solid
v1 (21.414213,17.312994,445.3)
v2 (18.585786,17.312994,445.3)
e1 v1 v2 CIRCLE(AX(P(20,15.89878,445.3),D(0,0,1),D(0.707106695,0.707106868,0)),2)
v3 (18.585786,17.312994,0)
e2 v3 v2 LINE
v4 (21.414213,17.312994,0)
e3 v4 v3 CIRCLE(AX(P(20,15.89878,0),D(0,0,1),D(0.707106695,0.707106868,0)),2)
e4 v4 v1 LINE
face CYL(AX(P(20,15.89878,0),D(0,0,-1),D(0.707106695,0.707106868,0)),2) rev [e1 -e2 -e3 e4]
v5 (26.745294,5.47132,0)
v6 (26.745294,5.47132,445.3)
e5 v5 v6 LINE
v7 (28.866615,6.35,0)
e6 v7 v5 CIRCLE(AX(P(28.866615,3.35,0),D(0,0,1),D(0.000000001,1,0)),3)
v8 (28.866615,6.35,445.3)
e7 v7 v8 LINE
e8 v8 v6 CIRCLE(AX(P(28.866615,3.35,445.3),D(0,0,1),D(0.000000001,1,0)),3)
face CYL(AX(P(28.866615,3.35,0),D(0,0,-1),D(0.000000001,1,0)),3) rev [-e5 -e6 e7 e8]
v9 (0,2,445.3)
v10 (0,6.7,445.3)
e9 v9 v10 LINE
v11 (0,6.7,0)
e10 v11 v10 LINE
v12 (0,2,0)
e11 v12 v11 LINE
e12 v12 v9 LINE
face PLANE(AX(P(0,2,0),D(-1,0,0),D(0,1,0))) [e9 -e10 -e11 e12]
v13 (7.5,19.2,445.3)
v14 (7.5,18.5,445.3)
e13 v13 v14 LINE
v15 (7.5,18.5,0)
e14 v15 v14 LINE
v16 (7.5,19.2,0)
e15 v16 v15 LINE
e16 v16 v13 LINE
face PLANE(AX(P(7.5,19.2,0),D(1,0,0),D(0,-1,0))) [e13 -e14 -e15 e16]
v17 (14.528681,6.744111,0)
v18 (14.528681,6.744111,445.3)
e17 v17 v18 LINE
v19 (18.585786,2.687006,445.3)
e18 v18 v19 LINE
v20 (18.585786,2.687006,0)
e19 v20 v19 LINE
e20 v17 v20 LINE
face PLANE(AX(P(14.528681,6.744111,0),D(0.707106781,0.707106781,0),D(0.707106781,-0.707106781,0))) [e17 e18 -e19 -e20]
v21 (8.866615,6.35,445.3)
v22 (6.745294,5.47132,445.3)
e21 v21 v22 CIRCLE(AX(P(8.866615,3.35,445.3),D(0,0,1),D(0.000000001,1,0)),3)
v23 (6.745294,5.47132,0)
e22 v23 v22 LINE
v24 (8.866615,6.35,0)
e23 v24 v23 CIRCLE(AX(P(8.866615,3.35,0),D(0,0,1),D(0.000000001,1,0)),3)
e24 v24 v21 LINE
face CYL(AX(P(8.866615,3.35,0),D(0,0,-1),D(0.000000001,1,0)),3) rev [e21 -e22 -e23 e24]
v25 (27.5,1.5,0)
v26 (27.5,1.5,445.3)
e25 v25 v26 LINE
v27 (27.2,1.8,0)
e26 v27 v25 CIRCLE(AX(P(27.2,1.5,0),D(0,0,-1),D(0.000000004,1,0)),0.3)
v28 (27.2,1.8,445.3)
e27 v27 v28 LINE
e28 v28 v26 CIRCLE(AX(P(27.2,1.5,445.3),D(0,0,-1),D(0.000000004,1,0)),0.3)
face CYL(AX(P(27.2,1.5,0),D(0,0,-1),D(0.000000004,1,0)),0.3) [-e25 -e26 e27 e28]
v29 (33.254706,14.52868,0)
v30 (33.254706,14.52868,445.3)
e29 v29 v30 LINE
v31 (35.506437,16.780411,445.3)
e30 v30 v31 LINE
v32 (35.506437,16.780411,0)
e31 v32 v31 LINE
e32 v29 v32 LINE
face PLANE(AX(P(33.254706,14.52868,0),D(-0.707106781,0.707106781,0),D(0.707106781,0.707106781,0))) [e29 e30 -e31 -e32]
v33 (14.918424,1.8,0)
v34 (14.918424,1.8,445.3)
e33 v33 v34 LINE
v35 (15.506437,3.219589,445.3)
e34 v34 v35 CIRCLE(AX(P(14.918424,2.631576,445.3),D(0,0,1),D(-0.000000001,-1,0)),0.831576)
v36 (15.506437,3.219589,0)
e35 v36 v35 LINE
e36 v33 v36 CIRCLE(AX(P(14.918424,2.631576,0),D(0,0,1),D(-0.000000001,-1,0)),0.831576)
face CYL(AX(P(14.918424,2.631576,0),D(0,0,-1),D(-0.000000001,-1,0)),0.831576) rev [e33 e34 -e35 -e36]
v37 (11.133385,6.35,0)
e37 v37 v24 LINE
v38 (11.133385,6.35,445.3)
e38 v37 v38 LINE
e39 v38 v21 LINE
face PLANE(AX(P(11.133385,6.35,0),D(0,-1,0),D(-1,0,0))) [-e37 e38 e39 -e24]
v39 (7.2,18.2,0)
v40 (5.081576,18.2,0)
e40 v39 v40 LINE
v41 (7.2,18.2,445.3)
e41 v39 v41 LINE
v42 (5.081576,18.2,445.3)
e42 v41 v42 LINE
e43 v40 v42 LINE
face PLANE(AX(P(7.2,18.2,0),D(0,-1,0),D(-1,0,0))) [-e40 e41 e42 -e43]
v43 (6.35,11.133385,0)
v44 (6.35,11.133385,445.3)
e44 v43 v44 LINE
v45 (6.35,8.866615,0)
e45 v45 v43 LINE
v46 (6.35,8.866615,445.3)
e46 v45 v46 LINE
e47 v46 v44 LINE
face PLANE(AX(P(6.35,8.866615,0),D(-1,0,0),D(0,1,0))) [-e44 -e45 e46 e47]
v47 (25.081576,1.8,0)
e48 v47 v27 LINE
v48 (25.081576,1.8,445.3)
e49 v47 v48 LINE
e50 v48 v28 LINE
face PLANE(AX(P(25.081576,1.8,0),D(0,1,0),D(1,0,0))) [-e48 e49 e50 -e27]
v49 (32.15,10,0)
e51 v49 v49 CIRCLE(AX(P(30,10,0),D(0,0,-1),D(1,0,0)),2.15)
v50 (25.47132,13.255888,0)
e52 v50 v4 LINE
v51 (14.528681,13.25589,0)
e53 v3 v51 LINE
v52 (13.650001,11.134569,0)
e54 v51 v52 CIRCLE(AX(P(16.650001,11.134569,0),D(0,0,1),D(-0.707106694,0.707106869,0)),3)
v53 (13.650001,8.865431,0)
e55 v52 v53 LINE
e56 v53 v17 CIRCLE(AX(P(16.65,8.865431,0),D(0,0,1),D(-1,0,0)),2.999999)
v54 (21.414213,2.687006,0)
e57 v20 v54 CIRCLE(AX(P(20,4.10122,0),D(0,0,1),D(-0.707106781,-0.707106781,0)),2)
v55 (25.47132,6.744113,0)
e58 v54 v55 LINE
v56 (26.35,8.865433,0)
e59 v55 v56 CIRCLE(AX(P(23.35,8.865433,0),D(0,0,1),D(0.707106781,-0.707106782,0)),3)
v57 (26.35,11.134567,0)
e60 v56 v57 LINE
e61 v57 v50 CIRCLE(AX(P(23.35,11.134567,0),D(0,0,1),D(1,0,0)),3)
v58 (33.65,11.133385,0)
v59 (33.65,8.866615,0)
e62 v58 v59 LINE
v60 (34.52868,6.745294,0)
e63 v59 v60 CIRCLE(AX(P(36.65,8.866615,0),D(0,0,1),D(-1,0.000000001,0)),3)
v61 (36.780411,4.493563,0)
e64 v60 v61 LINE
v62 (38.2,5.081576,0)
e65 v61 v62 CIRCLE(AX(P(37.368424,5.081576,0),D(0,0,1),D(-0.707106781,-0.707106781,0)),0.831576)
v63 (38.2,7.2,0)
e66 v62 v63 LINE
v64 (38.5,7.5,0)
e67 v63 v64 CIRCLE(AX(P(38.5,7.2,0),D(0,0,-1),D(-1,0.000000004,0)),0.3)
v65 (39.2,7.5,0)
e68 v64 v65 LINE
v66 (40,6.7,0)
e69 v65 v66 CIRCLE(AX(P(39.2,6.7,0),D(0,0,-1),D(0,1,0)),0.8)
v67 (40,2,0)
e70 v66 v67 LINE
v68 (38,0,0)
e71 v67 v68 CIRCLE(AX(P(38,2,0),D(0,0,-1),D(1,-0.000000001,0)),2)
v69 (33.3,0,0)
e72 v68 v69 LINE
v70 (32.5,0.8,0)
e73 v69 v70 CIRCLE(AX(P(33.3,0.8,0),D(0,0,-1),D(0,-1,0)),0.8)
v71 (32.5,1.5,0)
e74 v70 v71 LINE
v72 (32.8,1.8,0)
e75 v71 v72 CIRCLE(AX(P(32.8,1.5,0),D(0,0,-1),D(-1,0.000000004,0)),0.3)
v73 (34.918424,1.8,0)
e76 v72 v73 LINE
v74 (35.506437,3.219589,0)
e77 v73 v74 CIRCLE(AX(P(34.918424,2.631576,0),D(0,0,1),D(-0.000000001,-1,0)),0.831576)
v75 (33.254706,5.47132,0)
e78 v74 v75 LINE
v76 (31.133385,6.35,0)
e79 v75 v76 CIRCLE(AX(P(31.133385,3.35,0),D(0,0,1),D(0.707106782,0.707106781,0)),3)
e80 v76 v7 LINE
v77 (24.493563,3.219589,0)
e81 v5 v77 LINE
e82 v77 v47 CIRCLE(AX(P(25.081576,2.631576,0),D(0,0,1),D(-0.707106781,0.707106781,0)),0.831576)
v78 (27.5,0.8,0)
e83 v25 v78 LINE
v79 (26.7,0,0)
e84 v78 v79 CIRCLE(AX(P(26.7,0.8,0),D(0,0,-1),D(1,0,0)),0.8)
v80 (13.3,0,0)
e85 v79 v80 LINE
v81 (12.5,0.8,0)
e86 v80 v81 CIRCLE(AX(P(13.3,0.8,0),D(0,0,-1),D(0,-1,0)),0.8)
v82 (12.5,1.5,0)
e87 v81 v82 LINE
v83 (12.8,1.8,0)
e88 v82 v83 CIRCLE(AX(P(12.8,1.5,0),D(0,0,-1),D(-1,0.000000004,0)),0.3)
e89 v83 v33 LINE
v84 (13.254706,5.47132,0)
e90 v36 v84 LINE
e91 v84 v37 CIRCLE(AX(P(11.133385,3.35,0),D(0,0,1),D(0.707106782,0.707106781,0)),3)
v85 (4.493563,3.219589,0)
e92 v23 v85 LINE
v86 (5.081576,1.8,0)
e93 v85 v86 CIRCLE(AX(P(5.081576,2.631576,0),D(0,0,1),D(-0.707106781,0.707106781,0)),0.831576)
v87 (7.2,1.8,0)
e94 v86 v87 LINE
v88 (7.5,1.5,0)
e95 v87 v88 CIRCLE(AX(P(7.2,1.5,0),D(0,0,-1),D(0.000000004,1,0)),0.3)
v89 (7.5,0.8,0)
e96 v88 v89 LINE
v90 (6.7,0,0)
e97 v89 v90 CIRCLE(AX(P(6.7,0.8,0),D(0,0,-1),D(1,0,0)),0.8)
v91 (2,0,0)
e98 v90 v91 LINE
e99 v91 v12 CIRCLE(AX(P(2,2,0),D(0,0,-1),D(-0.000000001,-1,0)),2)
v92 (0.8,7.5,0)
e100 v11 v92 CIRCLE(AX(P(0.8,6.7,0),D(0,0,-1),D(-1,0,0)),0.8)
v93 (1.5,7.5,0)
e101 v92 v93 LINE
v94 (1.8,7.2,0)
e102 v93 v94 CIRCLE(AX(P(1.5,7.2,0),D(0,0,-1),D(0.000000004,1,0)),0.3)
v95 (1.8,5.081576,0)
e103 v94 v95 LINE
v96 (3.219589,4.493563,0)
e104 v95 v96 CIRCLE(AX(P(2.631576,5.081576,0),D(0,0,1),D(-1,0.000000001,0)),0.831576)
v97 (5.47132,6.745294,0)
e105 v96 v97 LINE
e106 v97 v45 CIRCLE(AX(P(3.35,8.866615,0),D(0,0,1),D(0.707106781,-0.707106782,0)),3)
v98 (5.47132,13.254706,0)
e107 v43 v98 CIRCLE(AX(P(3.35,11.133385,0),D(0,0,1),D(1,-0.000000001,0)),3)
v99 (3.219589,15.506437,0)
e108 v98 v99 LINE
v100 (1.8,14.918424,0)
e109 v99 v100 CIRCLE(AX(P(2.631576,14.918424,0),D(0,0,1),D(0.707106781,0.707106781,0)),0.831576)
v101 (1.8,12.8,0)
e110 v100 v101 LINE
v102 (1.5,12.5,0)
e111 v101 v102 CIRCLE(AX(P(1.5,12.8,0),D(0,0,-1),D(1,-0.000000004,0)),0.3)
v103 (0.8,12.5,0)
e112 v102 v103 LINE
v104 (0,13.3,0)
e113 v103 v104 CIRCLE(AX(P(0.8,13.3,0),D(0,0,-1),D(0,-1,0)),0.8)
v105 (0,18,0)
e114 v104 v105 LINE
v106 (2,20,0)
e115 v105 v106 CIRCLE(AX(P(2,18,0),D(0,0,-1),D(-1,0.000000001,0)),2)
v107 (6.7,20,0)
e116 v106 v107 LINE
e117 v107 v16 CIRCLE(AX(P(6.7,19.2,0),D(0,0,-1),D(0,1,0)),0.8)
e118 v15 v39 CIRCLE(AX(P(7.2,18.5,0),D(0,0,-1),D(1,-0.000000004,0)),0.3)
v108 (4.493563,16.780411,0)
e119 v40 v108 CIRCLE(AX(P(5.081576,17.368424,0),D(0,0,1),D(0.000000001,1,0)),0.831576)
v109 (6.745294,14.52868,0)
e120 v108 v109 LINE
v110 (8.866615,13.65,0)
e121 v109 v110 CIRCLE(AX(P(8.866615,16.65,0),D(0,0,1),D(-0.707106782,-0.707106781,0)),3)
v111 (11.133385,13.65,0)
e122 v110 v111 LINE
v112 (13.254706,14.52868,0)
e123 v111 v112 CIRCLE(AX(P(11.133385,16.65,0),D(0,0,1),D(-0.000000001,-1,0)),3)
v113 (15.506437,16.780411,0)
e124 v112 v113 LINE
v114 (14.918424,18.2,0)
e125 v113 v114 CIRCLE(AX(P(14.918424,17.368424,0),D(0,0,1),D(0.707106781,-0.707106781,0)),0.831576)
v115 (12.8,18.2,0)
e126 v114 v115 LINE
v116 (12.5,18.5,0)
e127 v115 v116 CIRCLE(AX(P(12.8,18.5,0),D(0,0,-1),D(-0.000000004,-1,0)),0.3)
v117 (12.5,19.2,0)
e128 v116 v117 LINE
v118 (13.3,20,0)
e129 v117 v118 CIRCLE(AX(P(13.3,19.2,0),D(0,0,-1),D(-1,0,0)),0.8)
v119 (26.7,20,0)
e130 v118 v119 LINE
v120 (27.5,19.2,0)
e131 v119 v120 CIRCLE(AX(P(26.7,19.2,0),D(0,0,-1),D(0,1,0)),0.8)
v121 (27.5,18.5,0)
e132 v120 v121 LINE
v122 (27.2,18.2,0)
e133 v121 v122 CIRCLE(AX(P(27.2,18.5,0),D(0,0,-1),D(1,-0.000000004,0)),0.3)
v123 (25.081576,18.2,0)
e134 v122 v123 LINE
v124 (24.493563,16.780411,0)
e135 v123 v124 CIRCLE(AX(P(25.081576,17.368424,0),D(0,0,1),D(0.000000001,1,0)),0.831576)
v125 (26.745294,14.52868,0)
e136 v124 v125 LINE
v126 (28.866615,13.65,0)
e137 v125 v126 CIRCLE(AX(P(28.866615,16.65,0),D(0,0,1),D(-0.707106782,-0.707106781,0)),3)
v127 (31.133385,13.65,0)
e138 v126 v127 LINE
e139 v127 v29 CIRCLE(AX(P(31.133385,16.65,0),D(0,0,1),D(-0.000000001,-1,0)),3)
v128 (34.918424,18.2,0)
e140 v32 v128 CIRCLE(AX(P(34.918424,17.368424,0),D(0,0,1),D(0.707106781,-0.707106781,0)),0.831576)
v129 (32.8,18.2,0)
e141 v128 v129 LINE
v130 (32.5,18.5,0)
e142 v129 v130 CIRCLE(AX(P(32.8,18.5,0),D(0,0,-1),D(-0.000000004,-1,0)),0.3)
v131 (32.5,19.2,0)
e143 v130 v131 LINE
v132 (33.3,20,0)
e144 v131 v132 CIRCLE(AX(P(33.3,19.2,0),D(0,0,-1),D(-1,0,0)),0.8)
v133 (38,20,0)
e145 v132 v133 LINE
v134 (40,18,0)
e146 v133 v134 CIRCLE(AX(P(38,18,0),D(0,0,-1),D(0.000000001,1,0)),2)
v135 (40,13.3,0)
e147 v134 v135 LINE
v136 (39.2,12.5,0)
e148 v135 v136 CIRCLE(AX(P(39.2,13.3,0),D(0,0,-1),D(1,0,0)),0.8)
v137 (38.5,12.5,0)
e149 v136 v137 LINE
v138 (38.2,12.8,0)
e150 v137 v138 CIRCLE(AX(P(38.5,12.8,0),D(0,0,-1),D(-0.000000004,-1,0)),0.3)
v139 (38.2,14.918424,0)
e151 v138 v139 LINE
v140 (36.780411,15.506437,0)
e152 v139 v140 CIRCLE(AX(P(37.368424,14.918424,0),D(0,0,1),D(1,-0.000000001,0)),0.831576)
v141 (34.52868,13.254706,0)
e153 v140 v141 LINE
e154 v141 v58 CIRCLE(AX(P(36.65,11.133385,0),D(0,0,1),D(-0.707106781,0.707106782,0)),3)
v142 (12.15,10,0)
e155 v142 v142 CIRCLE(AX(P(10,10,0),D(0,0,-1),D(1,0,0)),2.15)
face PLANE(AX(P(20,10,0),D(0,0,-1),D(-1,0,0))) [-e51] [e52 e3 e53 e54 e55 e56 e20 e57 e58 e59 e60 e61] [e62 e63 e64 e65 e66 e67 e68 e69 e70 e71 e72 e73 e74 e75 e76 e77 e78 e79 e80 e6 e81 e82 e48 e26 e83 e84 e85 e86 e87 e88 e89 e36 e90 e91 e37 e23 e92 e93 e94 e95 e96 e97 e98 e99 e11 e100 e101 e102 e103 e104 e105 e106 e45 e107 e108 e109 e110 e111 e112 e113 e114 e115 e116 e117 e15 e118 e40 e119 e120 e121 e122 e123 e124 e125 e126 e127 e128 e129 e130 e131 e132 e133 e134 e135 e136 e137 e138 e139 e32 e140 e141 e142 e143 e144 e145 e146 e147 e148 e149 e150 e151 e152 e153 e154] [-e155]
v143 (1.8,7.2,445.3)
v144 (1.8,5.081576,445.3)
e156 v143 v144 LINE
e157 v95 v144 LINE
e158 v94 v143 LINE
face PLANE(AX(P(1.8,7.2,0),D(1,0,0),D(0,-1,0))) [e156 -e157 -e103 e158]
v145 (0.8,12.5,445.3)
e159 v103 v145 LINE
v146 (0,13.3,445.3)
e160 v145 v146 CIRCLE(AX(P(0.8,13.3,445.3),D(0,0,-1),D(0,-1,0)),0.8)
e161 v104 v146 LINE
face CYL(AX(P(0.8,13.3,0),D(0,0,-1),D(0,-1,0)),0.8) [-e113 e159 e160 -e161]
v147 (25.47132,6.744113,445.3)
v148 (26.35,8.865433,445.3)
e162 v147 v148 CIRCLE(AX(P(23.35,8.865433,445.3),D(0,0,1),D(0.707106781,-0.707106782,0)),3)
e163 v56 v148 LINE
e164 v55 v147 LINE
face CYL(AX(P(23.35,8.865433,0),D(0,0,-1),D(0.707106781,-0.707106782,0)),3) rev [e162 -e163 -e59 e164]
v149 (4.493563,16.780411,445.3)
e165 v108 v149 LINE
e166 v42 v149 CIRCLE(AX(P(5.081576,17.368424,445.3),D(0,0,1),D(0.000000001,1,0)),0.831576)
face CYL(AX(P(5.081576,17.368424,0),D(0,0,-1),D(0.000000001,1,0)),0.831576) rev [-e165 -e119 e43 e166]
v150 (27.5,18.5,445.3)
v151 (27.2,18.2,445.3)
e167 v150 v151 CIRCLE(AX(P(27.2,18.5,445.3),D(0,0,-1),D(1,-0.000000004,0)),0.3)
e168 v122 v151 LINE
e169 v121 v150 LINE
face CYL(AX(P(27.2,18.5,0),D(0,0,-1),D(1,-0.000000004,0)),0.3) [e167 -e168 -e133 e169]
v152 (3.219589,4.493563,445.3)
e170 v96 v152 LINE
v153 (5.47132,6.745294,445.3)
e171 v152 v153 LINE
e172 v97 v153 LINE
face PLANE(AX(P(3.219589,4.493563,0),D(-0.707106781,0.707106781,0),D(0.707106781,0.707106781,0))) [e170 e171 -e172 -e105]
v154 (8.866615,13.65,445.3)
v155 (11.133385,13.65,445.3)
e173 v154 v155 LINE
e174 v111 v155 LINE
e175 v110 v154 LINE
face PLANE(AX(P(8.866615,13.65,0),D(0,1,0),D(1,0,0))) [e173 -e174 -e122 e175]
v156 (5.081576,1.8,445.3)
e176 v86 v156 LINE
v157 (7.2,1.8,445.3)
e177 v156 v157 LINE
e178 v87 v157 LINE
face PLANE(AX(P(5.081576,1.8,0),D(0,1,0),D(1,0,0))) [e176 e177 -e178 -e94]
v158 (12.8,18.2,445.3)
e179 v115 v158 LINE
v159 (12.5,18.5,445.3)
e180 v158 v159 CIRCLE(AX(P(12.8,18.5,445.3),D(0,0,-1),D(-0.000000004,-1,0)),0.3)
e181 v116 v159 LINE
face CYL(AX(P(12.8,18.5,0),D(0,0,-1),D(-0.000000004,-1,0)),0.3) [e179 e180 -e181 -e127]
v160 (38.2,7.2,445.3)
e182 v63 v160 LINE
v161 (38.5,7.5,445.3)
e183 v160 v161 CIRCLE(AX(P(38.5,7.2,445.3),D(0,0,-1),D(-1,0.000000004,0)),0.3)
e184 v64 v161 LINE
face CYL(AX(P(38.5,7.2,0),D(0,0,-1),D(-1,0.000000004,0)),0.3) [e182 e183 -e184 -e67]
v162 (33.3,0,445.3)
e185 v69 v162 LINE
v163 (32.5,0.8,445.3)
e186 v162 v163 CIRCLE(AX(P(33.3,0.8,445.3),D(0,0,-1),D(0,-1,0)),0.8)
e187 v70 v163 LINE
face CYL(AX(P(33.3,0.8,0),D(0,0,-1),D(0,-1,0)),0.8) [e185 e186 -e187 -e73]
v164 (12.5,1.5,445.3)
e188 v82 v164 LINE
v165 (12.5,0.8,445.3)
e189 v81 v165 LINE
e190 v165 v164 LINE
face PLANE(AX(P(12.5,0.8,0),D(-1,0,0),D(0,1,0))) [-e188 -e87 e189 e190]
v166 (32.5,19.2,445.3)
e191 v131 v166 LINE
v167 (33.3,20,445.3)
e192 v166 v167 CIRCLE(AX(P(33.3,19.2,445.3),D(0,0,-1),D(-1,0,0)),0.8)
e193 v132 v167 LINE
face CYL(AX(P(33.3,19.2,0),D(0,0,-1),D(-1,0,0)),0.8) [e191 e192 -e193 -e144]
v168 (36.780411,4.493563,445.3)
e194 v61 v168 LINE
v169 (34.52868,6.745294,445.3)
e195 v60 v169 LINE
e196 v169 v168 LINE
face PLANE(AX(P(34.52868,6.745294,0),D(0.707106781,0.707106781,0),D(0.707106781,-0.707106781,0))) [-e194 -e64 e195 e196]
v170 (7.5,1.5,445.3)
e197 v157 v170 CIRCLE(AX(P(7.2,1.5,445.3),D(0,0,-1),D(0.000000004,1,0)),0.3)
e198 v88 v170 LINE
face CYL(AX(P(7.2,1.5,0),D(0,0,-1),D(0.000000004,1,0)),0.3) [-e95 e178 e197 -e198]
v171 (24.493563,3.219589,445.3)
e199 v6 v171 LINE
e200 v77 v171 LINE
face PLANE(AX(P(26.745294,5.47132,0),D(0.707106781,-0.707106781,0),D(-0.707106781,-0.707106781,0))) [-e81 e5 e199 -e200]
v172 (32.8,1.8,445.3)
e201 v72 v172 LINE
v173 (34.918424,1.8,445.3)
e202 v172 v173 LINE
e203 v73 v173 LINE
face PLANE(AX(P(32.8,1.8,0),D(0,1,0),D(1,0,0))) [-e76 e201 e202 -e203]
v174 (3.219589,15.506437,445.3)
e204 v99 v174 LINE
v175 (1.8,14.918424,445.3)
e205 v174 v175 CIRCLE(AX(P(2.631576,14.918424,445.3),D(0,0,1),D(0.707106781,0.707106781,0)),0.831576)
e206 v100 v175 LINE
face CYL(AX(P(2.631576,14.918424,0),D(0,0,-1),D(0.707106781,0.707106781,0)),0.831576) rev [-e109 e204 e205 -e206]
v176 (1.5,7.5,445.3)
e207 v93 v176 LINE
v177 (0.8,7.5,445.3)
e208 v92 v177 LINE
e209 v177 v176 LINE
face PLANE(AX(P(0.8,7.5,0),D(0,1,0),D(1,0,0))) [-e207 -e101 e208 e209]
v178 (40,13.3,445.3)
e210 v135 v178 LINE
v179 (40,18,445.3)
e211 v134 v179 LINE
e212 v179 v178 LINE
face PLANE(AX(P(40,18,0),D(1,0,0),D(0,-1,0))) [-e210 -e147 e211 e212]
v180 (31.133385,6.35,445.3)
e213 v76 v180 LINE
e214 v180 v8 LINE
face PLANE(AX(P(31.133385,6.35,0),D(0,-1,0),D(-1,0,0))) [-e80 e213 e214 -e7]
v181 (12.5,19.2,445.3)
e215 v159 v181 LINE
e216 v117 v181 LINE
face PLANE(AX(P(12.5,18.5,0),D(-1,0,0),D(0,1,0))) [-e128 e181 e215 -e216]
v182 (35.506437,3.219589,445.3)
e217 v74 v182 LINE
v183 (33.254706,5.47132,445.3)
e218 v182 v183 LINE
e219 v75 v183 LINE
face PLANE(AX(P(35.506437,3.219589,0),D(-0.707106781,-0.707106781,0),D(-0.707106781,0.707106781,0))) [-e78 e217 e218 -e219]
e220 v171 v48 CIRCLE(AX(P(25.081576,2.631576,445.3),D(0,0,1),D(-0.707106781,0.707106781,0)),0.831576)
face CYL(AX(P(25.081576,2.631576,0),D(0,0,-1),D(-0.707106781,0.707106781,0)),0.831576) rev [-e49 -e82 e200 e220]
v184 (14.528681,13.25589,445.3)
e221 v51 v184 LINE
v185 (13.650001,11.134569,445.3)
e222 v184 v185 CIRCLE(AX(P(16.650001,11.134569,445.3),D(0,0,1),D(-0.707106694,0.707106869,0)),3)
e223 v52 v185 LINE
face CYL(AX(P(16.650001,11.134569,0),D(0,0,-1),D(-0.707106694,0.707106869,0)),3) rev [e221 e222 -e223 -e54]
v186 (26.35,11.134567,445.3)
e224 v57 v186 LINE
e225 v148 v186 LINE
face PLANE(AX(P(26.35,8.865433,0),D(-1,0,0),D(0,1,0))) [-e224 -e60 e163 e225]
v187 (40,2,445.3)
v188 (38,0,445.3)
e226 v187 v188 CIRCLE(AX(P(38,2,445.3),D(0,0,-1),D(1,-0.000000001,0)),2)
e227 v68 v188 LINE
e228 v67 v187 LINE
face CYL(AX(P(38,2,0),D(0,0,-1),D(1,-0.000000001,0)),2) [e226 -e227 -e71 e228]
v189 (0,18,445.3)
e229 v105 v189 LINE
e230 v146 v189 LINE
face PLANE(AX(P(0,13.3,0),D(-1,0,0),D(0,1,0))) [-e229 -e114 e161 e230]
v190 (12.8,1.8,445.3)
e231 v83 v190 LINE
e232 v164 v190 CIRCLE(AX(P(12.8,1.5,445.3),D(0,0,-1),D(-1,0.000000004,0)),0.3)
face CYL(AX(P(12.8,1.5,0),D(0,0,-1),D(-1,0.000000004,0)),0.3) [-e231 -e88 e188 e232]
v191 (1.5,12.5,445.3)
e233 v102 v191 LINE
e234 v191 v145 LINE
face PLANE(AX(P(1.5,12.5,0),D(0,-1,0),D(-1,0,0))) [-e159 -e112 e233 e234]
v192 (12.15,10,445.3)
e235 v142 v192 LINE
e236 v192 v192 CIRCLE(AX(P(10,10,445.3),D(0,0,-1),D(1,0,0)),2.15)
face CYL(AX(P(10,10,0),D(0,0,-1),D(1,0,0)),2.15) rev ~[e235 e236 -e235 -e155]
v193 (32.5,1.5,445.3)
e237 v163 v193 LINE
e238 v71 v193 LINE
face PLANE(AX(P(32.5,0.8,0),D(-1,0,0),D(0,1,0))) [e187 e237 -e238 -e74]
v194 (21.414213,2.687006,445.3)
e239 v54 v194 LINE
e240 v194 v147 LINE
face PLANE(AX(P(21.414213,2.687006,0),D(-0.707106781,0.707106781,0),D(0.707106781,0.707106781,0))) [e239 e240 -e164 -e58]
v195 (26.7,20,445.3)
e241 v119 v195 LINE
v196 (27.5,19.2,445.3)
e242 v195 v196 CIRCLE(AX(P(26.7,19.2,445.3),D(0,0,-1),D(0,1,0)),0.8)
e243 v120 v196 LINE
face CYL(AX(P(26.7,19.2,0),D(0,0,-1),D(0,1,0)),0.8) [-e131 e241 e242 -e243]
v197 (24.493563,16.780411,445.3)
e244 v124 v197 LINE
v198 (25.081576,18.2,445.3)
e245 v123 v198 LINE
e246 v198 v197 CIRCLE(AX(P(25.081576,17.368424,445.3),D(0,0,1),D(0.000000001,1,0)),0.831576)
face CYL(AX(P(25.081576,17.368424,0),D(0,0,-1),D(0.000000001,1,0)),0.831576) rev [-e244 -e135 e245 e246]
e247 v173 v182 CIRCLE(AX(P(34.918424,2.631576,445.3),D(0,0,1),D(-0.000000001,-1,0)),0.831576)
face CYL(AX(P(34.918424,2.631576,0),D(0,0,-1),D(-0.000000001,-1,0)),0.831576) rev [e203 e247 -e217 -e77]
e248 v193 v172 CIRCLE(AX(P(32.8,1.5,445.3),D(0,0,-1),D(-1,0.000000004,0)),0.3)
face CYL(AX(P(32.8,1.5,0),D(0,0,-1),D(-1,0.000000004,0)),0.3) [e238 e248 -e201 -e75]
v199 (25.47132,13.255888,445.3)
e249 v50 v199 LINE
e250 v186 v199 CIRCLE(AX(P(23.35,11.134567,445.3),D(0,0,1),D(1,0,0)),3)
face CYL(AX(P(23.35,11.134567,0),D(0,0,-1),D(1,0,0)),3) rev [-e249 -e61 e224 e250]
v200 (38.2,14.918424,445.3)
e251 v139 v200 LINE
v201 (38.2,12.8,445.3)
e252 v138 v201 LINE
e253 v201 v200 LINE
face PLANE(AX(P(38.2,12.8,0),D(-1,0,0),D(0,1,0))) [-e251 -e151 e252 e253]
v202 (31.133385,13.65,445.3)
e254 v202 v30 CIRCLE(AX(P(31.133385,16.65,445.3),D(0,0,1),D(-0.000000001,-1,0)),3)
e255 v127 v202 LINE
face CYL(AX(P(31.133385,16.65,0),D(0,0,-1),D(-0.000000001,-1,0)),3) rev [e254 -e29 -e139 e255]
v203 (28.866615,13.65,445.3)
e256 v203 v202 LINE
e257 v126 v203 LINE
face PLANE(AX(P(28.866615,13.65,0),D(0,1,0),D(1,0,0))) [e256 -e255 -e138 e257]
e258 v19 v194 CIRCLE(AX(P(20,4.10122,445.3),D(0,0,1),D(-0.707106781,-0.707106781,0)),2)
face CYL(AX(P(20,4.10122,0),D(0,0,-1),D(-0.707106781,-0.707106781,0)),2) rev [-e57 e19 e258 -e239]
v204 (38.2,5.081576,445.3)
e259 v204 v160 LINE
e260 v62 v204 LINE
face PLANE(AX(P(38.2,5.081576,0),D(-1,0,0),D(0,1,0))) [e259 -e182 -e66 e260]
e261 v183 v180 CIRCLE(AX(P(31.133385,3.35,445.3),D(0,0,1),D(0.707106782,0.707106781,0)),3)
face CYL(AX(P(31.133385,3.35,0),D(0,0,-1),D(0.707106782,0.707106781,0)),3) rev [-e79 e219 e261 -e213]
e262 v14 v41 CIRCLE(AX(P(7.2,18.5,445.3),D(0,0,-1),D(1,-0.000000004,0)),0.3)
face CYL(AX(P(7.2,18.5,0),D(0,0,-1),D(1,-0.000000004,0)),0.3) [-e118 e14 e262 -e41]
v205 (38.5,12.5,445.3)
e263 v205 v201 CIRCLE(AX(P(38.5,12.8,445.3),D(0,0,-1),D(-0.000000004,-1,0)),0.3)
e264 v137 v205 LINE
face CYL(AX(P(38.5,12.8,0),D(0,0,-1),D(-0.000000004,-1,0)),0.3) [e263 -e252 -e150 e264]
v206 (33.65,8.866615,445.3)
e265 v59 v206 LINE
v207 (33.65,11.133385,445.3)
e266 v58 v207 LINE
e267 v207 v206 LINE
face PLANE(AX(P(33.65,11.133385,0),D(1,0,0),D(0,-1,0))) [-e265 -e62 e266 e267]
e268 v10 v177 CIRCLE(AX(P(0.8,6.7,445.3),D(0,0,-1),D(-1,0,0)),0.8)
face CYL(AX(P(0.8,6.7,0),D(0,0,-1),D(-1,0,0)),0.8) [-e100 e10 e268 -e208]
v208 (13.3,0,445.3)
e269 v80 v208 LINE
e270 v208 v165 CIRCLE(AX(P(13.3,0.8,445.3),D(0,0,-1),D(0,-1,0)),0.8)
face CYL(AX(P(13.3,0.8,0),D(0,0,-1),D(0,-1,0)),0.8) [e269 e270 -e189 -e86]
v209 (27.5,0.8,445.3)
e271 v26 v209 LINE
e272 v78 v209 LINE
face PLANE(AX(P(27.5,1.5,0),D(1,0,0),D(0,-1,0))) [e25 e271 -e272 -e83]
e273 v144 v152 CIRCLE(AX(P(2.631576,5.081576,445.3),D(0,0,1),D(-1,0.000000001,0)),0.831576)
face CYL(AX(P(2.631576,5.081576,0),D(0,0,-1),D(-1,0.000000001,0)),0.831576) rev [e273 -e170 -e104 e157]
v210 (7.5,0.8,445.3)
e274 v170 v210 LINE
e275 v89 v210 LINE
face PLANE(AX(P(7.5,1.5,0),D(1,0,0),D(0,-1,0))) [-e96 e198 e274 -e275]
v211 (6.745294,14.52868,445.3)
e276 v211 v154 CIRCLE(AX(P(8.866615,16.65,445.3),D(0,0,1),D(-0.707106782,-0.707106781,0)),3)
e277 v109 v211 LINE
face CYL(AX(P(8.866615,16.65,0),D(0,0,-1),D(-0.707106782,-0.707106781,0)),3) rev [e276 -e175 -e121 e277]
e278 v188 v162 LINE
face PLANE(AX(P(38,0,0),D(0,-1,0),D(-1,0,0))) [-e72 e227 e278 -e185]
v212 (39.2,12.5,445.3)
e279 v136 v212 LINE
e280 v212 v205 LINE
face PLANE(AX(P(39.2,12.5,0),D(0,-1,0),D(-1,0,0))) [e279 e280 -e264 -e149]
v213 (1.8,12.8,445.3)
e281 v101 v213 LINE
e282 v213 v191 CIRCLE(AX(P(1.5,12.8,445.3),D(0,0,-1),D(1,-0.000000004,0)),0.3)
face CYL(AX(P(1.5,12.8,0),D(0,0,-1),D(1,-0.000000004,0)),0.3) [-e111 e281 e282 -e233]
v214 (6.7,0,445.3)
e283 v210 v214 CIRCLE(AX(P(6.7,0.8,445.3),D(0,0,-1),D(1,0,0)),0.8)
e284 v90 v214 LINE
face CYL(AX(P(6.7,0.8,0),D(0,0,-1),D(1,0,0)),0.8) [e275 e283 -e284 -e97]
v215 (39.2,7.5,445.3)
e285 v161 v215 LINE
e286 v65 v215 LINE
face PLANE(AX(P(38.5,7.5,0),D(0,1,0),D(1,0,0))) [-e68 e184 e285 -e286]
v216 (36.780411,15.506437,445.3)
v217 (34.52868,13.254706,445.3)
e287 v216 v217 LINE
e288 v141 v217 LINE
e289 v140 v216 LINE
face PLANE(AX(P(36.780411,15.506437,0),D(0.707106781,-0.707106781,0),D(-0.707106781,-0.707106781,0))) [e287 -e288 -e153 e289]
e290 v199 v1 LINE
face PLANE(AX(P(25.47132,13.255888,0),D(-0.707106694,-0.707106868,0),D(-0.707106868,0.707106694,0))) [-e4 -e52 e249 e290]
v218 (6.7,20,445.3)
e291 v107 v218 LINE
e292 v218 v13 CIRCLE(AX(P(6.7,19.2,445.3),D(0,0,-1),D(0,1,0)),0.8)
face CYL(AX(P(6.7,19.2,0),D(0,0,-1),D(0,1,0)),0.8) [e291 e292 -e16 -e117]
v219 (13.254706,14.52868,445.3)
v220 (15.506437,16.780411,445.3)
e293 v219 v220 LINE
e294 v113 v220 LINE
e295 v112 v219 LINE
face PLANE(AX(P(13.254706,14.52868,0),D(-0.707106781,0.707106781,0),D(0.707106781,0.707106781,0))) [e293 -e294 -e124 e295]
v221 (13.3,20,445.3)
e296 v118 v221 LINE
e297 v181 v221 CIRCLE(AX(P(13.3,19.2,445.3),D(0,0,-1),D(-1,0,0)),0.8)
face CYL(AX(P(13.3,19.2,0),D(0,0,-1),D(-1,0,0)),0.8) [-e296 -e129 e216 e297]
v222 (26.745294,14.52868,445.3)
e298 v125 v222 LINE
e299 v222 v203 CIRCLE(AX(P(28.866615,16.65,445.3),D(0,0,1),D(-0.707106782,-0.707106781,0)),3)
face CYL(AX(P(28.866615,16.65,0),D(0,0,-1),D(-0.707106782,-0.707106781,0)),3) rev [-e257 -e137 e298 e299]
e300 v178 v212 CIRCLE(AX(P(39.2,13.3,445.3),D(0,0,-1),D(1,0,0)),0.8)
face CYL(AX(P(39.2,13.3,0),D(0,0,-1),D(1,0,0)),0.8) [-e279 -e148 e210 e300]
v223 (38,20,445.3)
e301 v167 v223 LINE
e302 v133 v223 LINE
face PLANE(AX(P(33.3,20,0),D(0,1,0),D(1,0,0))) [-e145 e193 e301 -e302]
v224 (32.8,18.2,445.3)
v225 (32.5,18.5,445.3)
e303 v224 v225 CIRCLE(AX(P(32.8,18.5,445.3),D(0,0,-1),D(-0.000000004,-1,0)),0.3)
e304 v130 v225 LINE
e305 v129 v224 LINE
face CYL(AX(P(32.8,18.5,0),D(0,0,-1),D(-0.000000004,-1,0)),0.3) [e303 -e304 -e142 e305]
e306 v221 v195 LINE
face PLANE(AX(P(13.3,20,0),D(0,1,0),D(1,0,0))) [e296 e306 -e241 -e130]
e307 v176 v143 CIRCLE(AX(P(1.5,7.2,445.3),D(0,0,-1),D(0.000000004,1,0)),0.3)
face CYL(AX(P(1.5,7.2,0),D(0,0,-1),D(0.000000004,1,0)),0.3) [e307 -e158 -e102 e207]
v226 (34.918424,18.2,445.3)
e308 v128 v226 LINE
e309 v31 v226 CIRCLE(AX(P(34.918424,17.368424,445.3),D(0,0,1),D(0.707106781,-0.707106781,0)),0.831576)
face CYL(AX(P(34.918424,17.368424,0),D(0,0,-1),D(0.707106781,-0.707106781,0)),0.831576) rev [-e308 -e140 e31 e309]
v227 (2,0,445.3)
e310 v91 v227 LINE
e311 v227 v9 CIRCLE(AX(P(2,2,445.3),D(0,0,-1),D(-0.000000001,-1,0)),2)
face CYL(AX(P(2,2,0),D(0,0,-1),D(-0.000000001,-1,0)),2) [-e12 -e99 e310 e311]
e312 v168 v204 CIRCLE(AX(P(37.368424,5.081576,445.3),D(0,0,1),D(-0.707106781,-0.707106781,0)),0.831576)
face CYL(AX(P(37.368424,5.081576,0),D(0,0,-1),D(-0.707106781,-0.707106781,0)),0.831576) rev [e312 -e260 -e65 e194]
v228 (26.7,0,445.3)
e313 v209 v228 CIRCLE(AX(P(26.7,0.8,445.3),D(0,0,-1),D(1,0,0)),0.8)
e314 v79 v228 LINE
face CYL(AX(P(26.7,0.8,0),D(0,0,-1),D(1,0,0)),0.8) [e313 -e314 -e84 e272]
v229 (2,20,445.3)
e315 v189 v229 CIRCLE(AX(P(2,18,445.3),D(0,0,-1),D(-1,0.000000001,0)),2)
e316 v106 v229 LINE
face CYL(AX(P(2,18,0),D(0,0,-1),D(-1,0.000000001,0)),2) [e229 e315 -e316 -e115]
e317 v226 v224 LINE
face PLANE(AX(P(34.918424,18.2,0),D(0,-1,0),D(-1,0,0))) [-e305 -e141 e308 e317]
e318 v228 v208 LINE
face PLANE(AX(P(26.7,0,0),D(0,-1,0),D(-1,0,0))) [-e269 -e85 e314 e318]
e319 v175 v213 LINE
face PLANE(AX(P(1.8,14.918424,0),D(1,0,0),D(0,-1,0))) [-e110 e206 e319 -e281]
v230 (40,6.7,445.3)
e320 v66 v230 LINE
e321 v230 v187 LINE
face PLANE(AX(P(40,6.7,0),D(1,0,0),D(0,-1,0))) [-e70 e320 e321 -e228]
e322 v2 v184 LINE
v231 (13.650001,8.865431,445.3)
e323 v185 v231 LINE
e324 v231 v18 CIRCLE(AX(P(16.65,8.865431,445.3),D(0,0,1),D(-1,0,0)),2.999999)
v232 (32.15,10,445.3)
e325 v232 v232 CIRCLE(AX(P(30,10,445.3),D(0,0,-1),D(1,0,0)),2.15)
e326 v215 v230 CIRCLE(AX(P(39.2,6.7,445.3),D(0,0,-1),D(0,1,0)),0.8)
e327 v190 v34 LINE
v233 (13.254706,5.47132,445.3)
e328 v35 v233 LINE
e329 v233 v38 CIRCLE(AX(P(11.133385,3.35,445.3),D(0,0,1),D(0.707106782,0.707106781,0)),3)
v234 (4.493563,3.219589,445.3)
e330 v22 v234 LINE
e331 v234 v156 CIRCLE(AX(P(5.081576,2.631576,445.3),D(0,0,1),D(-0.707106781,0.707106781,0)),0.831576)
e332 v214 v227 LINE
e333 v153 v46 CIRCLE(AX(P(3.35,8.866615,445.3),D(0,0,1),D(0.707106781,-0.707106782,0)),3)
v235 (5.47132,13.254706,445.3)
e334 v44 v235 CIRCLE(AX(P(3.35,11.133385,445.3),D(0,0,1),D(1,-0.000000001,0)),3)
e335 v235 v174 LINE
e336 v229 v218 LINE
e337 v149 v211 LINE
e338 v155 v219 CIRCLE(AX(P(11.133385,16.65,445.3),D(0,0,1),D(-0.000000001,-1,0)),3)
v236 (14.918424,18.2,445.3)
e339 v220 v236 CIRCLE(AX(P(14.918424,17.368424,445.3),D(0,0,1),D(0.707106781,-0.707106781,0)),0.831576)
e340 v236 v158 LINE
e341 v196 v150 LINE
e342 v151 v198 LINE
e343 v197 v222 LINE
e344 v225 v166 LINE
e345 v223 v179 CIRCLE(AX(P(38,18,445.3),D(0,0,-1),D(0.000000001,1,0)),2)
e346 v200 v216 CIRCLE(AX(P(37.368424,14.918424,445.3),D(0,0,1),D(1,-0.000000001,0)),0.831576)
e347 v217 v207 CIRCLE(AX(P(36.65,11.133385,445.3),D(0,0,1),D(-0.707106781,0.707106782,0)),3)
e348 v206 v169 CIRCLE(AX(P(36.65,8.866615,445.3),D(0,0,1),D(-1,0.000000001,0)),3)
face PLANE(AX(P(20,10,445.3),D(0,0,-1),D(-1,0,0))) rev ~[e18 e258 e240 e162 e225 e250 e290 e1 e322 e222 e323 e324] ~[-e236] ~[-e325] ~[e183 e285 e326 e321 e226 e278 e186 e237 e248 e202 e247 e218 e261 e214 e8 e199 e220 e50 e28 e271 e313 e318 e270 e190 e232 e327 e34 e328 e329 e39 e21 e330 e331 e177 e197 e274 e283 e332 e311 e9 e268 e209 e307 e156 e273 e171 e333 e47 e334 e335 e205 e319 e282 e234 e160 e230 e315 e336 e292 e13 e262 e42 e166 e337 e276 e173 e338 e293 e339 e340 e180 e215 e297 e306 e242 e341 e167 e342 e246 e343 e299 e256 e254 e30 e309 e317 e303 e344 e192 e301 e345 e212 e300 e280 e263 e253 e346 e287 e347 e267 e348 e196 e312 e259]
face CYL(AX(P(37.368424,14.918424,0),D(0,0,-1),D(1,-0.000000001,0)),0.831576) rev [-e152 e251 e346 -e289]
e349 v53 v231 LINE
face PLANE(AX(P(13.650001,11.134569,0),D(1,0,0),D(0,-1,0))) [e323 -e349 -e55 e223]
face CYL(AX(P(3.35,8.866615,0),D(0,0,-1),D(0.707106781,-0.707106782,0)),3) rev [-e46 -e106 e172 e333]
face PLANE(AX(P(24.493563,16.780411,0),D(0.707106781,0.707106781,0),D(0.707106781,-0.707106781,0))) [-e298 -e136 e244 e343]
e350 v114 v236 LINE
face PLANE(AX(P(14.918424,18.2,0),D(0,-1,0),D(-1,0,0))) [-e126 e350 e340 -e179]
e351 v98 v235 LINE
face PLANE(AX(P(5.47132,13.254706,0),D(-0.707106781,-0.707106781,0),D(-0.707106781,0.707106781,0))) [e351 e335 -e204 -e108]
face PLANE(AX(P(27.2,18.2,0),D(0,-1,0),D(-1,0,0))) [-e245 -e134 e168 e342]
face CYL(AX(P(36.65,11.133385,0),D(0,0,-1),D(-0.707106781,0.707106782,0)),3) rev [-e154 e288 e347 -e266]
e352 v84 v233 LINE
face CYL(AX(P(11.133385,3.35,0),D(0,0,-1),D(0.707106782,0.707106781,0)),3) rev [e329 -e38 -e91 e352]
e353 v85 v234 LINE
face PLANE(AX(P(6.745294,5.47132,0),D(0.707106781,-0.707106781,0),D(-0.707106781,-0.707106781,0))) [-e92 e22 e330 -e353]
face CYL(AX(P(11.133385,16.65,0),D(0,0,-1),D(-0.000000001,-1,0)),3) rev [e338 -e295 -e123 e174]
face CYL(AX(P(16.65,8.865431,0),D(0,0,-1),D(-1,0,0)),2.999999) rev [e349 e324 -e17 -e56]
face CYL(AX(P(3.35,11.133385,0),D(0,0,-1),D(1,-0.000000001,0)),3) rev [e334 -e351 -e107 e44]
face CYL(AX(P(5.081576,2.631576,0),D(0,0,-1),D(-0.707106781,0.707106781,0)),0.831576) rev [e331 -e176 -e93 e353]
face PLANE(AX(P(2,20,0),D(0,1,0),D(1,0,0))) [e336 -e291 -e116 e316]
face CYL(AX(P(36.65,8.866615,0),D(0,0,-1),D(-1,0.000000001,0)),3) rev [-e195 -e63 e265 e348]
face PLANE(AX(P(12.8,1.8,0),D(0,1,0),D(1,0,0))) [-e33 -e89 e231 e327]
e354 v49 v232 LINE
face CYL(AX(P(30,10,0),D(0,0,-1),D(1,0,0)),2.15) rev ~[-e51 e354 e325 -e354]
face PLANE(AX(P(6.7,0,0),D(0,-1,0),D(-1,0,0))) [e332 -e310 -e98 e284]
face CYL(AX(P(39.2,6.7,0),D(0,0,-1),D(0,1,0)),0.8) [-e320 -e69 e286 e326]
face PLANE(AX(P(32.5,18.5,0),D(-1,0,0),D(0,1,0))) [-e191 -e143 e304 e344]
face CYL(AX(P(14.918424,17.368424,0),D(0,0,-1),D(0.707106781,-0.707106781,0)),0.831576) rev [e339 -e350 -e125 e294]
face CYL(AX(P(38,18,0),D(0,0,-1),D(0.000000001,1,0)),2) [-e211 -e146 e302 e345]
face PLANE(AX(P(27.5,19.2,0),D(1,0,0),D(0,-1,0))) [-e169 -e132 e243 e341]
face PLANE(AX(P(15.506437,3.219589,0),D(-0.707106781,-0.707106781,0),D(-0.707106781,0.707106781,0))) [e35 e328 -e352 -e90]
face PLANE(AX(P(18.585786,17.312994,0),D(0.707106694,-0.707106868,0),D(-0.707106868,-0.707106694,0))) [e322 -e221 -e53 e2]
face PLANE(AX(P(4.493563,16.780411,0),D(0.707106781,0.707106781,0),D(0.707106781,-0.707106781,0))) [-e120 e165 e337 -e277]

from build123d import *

# Parameters (mm, degrees)
ESQUISSE1_R      = 2.15
EXTRUSION1_DEPTH = 445.3


with BuildPart() as part:
    # Esquisse1 → Extrusion1 (new body)
    with BuildSketch(Plane(origin=(0, 0, 0), x_dir=(-1, 0, 0), z_dir=(0, 0, -1))):
        with BuildLine():
            Line((-38, 0), (-33.3, 0))
            ThreePointArc((-33.3, 0), (-32.734314575, 0.234314575), (-32.5, 0.8))
            Line((-32.5, 0.8), (-32.5, 1.5))
            ThreePointArc((-32.5, 1.5), (-32.587867966, 1.712132034), (-32.8, 1.8))
            Line((-32.8, 1.8), (-34.918424061, 1.8))
            ThreePointArc((-34.918424061, 1.8), (-35.686700051, 2.313345604), (-35.506437047, 3.219588924))
            Line((-35.506437047, 3.219588924), (-33.254705627, 5.471320344))
            ThreePointArc((-33.254705627, 5.471320344), (-32.281435581, 6.121638598), (-31.133385284, 6.35))
            Line((-31.133385284, 6.35), (-28.866614716, 6.35))
            ThreePointArc((-28.866614716, 6.35), (-27.718564419, 6.121638598), (-26.745294373, 5.471320344))
            Line((-26.745294373, 5.471320344), (-24.493562953, 3.219588924))
            ThreePointArc((-24.493562953, 3.219588924), (-24.313299949, 2.313345604), (-25.081575939, 1.8))
            Line((-25.081575939, 1.8), (-27.2, 1.8))
            ThreePointArc((-27.2, 1.8), (-27.412132034, 1.712132034), (-27.5, 1.5))
            Line((-27.5, 1.5), (-27.5, 0.8))
            ThreePointArc((-27.5, 0.8), (-27.265685425, 0.234314575), (-26.7, 0))
            Line((-26.7, 0), (-13.3, 0))
            ThreePointArc((-13.3, 0), (-12.734314575, 0.234314575), (-12.5, 0.8))
            Line((-12.5, 0.8), (-12.5, 1.5))
            ThreePointArc((-12.5, 1.5), (-12.587867966, 1.712132034), (-12.8, 1.8))
            Line((-12.8, 1.8), (-14.918424061, 1.8))
            ThreePointArc((-14.918424061, 1.8), (-15.686700051, 2.313345604), (-15.506437047, 3.219588924))
            Line((-15.506437047, 3.219588924), (-13.254705627, 5.471320344))
            ThreePointArc((-13.254705627, 5.471320344), (-12.281435581, 6.121638598), (-11.133385284, 6.35))
            Line((-11.133385284, 6.35), (-8.866614716, 6.35))
            ThreePointArc((-8.866614716, 6.35), (-7.718564419, 6.121638598), (-6.745294373, 5.471320344))
            Line((-6.745294373, 5.471320344), (-4.493562953, 3.219588924))
            ThreePointArc((-4.493562953, 3.219588924), (-4.313299949, 2.313345604), (-5.081575939, 1.8))
            Line((-5.081575939, 1.8), (-7.2, 1.8))
            ThreePointArc((-7.2, 1.8), (-7.412132034, 1.712132034), (-7.5, 1.5))
            Line((-7.5, 1.5), (-7.5, 0.8))
            ThreePointArc((-7.5, 0.8), (-7.265685425, 0.234314575), (-6.7, 0))
            Line((-6.7, 0), (-2, 0))
            ThreePointArc((-2, 0), (-0.585786438, 0.585786438), (0, 2))
            Line((0, 2), (0, 6.7))
            ThreePointArc((0, 6.7), (-0.234314575, 7.265685425), (-0.8, 7.5))
            Line((-0.8, 7.5), (-1.5, 7.5))
            ThreePointArc((-1.5, 7.5), (-1.712132034, 7.412132034), (-1.8, 7.2))
            Line((-1.8, 7.2), (-1.8, 5.081575939))
            ThreePointArc((-1.8, 5.081575939), (-2.313345604, 4.313299949), (-3.219588924, 4.493562953))
            Line((-3.219588924, 4.493562953), (-5.471320344, 6.745294373))
            ThreePointArc((-5.471320344, 6.745294373), (-6.121638598, 7.718564419), (-6.35, 8.866614716))
            Line((-6.35, 8.866614716), (-6.35, 11.133385284))
            ThreePointArc((-6.35, 11.133385284), (-6.121638598, 12.281435581), (-5.471320344, 13.254705627))
            Line((-5.471320344, 13.254705627), (-3.219588924, 15.506437047))
            ThreePointArc((-3.219588924, 15.506437047), (-2.313345604, 15.686700051), (-1.8, 14.918424061))
            Line((-1.8, 14.918424061), (-1.8, 12.8))
            ThreePointArc((-1.8, 12.8), (-1.712132034, 12.587867966), (-1.5, 12.5))
            Line((-1.5, 12.5), (-0.8, 12.5))
            ThreePointArc((-0.8, 12.5), (-0.234314575, 12.734314575), (0, 13.3))
            Line((0, 13.3), (0, 18))
            ThreePointArc((0, 18), (-0.585786438, 19.414213562), (-2, 20))
            Line((-2, 20), (-6.7, 20))
            ThreePointArc((-6.7, 20), (-7.265685425, 19.765685425), (-7.5, 19.2))
            Line((-7.5, 19.2), (-7.5, 18.5))
            ThreePointArc((-7.5, 18.5), (-7.412132034, 18.287867966), (-7.2, 18.2))
            Line((-7.2, 18.2), (-5.081575939, 18.2))
            ThreePointArc((-5.081575939, 18.2), (-4.313299949, 17.686654396), (-4.493562953, 16.780411076))
            Line((-4.493562953, 16.780411076), (-6.745294373, 14.528679656))
            ThreePointArc((-6.745294373, 14.528679656), (-7.718564419, 13.878361402), (-8.866614716, 13.65))
            Line((-8.866614716, 13.65), (-11.133385284, 13.65))
            ThreePointArc((-11.133385284, 13.65), (-12.281435581, 13.878361402), (-13.254705627, 14.528679656))
            Line((-13.254705627, 14.528679656), (-15.506437047, 16.780411076))
            ThreePointArc((-15.506437047, 16.780411076), (-15.686700051, 17.686654396), (-14.918424061, 18.2))
            Line((-14.918424061, 18.2), (-12.8, 18.2))
            ThreePointArc((-12.8, 18.2), (-12.587867966, 18.287867966), (-12.5, 18.5))
            Line((-12.5, 18.5), (-12.5, 19.2))
            ThreePointArc((-12.5, 19.2), (-12.734314575, 19.765685425), (-13.3, 20))
            Line((-13.3, 20), (-26.7, 20))
            ThreePointArc((-26.7, 20), (-27.265685425, 19.765685425), (-27.5, 19.2))
            Line((-27.5, 19.2), (-27.5, 18.5))
            ThreePointArc((-27.5, 18.5), (-27.412132034, 18.287867966), (-27.2, 18.2))
            Line((-27.2, 18.2), (-25.081575939, 18.2))
            ThreePointArc((-25.081575939, 18.2), (-24.313299949, 17.686654396), (-24.493562953, 16.780411076))
            Line((-24.493562953, 16.780411076), (-26.745294373, 14.528679656))
            ThreePointArc((-26.745294373, 14.528679656), (-27.718564419, 13.878361402), (-28.866614716, 13.65))
            Line((-28.866614716, 13.65), (-31.133385284, 13.65))
            ThreePointArc((-31.133385284, 13.65), (-32.281435581, 13.878361402), (-33.254705627, 14.528679656))
            Line((-33.254705627, 14.528679656), (-35.506437047, 16.780411076))
            ThreePointArc((-35.506437047, 16.780411076), (-35.686700051, 17.686654396), (-34.918424061, 18.2))
            Line((-34.918424061, 18.2), (-32.8, 18.2))
            ThreePointArc((-32.8, 18.2), (-32.587867966, 18.287867966), (-32.5, 18.5))
            Line((-32.5, 18.5), (-32.5, 19.2))
            ThreePointArc((-32.5, 19.2), (-32.734314575, 19.765685425), (-33.3, 20))
            Line((-33.3, 20), (-38, 20))
            ThreePointArc((-38, 20), (-39.414213562, 19.414213562), (-40, 18))
            Line((-40, 18), (-40, 13.3))
            ThreePointArc((-40, 13.3), (-39.765685425, 12.734314575), (-39.2, 12.5))
            Line((-39.2, 12.5), (-38.5, 12.5))
            ThreePointArc((-38.5, 12.5), (-38.287867966, 12.587867966), (-38.2, 12.8))
            Line((-38.2, 12.8), (-38.2, 14.918424061))
            ThreePointArc((-38.2, 14.918424061), (-37.686654396, 15.686700051), (-36.780411076, 15.506437047))
            Line((-36.780411076, 15.506437047), (-34.528679656, 13.254705627))
            ThreePointArc((-34.528679656, 13.254705627), (-33.878361402, 12.281435581), (-33.65, 11.133385284))
            Line((-33.65, 11.133385284), (-33.65, 8.866614716))
            ThreePointArc((-33.65, 8.866614716), (-33.878361402, 7.718564419), (-34.528679656, 6.745294373))
            Line((-34.528679656, 6.745294373), (-36.780411076, 4.493562953))
            ThreePointArc((-36.780411076, 4.493562953), (-37.686654396, 4.313299949), (-38.2, 5.081575939))
            Line((-38.2, 5.081575939), (-38.2, 7.2))
            ThreePointArc((-38.2, 7.2), (-38.287867966, 7.412132034), (-38.5, 7.5))
            Line((-38.5, 7.5), (-39.2, 7.5))
            ThreePointArc((-39.2, 7.5), (-39.765685425, 7.265685425), (-40, 6.7))
            Line((-40, 6.7), (-40, 2))
            ThreePointArc((-40, 2), (-39.414213562, 0.585786438), (-38, 0))
        make_face()
        with Locations(Location((-10, 10, 0), (0, 0, 180))):
            Circle(ESQUISSE1_R, mode=Mode.SUBTRACT)
        with Locations(Location((-30, 10, 0), (0, 0, 180))):
            Circle(ESQUISSE1_R, mode=Mode.SUBTRACT)
        with BuildLine():
            Line((-13.650001154, 11.134569154), (-13.650001154, 8.865431094))
            ThreePointArc((-13.650001154, 8.865431094), (-13.878362476, 7.717381202), (-14.5286805, 6.7441115))
            Line((-14.5286805, 6.7441115), (-18.585786, 2.687006))
            ThreePointArc((-18.585786, 2.687006), (-19.999999562, 2.101219562), (-21.414213125, 2.687006))
            Line((-21.414213125, 2.687006), (-25.471320125, 6.744113))
            ThreePointArc((-25.471320125, 6.744113), (-26.121638379, 7.717383046), (-26.349999781, 8.865433344))
            Line((-26.349999781, 8.865433344), (-26.349999781, 11.134567344))
            ThreePointArc((-26.349999781, 11.134567344), (-26.121638308, 12.282617811), (-25.471319863, 13.255887949))
            Line((-25.471319863, 13.255887949), (-21.41421295, 17.312993861))
            ThreePointArc((-21.41421295, 17.312993861), (-19.999999562, 17.898780125), (-18.585786174, 17.312993861))
            Line((-18.585786174, 17.312993861), (-14.528681072, 13.255889759))
            ThreePointArc((-14.528681072, 13.255889759), (-13.878362627, 12.282619622), (-13.650001154, 11.134569154))
        make_face(mode=Mode.SUBTRACT)
    extrude(amount=-EXTRUSION1_DEPTH)


solid = part.part
